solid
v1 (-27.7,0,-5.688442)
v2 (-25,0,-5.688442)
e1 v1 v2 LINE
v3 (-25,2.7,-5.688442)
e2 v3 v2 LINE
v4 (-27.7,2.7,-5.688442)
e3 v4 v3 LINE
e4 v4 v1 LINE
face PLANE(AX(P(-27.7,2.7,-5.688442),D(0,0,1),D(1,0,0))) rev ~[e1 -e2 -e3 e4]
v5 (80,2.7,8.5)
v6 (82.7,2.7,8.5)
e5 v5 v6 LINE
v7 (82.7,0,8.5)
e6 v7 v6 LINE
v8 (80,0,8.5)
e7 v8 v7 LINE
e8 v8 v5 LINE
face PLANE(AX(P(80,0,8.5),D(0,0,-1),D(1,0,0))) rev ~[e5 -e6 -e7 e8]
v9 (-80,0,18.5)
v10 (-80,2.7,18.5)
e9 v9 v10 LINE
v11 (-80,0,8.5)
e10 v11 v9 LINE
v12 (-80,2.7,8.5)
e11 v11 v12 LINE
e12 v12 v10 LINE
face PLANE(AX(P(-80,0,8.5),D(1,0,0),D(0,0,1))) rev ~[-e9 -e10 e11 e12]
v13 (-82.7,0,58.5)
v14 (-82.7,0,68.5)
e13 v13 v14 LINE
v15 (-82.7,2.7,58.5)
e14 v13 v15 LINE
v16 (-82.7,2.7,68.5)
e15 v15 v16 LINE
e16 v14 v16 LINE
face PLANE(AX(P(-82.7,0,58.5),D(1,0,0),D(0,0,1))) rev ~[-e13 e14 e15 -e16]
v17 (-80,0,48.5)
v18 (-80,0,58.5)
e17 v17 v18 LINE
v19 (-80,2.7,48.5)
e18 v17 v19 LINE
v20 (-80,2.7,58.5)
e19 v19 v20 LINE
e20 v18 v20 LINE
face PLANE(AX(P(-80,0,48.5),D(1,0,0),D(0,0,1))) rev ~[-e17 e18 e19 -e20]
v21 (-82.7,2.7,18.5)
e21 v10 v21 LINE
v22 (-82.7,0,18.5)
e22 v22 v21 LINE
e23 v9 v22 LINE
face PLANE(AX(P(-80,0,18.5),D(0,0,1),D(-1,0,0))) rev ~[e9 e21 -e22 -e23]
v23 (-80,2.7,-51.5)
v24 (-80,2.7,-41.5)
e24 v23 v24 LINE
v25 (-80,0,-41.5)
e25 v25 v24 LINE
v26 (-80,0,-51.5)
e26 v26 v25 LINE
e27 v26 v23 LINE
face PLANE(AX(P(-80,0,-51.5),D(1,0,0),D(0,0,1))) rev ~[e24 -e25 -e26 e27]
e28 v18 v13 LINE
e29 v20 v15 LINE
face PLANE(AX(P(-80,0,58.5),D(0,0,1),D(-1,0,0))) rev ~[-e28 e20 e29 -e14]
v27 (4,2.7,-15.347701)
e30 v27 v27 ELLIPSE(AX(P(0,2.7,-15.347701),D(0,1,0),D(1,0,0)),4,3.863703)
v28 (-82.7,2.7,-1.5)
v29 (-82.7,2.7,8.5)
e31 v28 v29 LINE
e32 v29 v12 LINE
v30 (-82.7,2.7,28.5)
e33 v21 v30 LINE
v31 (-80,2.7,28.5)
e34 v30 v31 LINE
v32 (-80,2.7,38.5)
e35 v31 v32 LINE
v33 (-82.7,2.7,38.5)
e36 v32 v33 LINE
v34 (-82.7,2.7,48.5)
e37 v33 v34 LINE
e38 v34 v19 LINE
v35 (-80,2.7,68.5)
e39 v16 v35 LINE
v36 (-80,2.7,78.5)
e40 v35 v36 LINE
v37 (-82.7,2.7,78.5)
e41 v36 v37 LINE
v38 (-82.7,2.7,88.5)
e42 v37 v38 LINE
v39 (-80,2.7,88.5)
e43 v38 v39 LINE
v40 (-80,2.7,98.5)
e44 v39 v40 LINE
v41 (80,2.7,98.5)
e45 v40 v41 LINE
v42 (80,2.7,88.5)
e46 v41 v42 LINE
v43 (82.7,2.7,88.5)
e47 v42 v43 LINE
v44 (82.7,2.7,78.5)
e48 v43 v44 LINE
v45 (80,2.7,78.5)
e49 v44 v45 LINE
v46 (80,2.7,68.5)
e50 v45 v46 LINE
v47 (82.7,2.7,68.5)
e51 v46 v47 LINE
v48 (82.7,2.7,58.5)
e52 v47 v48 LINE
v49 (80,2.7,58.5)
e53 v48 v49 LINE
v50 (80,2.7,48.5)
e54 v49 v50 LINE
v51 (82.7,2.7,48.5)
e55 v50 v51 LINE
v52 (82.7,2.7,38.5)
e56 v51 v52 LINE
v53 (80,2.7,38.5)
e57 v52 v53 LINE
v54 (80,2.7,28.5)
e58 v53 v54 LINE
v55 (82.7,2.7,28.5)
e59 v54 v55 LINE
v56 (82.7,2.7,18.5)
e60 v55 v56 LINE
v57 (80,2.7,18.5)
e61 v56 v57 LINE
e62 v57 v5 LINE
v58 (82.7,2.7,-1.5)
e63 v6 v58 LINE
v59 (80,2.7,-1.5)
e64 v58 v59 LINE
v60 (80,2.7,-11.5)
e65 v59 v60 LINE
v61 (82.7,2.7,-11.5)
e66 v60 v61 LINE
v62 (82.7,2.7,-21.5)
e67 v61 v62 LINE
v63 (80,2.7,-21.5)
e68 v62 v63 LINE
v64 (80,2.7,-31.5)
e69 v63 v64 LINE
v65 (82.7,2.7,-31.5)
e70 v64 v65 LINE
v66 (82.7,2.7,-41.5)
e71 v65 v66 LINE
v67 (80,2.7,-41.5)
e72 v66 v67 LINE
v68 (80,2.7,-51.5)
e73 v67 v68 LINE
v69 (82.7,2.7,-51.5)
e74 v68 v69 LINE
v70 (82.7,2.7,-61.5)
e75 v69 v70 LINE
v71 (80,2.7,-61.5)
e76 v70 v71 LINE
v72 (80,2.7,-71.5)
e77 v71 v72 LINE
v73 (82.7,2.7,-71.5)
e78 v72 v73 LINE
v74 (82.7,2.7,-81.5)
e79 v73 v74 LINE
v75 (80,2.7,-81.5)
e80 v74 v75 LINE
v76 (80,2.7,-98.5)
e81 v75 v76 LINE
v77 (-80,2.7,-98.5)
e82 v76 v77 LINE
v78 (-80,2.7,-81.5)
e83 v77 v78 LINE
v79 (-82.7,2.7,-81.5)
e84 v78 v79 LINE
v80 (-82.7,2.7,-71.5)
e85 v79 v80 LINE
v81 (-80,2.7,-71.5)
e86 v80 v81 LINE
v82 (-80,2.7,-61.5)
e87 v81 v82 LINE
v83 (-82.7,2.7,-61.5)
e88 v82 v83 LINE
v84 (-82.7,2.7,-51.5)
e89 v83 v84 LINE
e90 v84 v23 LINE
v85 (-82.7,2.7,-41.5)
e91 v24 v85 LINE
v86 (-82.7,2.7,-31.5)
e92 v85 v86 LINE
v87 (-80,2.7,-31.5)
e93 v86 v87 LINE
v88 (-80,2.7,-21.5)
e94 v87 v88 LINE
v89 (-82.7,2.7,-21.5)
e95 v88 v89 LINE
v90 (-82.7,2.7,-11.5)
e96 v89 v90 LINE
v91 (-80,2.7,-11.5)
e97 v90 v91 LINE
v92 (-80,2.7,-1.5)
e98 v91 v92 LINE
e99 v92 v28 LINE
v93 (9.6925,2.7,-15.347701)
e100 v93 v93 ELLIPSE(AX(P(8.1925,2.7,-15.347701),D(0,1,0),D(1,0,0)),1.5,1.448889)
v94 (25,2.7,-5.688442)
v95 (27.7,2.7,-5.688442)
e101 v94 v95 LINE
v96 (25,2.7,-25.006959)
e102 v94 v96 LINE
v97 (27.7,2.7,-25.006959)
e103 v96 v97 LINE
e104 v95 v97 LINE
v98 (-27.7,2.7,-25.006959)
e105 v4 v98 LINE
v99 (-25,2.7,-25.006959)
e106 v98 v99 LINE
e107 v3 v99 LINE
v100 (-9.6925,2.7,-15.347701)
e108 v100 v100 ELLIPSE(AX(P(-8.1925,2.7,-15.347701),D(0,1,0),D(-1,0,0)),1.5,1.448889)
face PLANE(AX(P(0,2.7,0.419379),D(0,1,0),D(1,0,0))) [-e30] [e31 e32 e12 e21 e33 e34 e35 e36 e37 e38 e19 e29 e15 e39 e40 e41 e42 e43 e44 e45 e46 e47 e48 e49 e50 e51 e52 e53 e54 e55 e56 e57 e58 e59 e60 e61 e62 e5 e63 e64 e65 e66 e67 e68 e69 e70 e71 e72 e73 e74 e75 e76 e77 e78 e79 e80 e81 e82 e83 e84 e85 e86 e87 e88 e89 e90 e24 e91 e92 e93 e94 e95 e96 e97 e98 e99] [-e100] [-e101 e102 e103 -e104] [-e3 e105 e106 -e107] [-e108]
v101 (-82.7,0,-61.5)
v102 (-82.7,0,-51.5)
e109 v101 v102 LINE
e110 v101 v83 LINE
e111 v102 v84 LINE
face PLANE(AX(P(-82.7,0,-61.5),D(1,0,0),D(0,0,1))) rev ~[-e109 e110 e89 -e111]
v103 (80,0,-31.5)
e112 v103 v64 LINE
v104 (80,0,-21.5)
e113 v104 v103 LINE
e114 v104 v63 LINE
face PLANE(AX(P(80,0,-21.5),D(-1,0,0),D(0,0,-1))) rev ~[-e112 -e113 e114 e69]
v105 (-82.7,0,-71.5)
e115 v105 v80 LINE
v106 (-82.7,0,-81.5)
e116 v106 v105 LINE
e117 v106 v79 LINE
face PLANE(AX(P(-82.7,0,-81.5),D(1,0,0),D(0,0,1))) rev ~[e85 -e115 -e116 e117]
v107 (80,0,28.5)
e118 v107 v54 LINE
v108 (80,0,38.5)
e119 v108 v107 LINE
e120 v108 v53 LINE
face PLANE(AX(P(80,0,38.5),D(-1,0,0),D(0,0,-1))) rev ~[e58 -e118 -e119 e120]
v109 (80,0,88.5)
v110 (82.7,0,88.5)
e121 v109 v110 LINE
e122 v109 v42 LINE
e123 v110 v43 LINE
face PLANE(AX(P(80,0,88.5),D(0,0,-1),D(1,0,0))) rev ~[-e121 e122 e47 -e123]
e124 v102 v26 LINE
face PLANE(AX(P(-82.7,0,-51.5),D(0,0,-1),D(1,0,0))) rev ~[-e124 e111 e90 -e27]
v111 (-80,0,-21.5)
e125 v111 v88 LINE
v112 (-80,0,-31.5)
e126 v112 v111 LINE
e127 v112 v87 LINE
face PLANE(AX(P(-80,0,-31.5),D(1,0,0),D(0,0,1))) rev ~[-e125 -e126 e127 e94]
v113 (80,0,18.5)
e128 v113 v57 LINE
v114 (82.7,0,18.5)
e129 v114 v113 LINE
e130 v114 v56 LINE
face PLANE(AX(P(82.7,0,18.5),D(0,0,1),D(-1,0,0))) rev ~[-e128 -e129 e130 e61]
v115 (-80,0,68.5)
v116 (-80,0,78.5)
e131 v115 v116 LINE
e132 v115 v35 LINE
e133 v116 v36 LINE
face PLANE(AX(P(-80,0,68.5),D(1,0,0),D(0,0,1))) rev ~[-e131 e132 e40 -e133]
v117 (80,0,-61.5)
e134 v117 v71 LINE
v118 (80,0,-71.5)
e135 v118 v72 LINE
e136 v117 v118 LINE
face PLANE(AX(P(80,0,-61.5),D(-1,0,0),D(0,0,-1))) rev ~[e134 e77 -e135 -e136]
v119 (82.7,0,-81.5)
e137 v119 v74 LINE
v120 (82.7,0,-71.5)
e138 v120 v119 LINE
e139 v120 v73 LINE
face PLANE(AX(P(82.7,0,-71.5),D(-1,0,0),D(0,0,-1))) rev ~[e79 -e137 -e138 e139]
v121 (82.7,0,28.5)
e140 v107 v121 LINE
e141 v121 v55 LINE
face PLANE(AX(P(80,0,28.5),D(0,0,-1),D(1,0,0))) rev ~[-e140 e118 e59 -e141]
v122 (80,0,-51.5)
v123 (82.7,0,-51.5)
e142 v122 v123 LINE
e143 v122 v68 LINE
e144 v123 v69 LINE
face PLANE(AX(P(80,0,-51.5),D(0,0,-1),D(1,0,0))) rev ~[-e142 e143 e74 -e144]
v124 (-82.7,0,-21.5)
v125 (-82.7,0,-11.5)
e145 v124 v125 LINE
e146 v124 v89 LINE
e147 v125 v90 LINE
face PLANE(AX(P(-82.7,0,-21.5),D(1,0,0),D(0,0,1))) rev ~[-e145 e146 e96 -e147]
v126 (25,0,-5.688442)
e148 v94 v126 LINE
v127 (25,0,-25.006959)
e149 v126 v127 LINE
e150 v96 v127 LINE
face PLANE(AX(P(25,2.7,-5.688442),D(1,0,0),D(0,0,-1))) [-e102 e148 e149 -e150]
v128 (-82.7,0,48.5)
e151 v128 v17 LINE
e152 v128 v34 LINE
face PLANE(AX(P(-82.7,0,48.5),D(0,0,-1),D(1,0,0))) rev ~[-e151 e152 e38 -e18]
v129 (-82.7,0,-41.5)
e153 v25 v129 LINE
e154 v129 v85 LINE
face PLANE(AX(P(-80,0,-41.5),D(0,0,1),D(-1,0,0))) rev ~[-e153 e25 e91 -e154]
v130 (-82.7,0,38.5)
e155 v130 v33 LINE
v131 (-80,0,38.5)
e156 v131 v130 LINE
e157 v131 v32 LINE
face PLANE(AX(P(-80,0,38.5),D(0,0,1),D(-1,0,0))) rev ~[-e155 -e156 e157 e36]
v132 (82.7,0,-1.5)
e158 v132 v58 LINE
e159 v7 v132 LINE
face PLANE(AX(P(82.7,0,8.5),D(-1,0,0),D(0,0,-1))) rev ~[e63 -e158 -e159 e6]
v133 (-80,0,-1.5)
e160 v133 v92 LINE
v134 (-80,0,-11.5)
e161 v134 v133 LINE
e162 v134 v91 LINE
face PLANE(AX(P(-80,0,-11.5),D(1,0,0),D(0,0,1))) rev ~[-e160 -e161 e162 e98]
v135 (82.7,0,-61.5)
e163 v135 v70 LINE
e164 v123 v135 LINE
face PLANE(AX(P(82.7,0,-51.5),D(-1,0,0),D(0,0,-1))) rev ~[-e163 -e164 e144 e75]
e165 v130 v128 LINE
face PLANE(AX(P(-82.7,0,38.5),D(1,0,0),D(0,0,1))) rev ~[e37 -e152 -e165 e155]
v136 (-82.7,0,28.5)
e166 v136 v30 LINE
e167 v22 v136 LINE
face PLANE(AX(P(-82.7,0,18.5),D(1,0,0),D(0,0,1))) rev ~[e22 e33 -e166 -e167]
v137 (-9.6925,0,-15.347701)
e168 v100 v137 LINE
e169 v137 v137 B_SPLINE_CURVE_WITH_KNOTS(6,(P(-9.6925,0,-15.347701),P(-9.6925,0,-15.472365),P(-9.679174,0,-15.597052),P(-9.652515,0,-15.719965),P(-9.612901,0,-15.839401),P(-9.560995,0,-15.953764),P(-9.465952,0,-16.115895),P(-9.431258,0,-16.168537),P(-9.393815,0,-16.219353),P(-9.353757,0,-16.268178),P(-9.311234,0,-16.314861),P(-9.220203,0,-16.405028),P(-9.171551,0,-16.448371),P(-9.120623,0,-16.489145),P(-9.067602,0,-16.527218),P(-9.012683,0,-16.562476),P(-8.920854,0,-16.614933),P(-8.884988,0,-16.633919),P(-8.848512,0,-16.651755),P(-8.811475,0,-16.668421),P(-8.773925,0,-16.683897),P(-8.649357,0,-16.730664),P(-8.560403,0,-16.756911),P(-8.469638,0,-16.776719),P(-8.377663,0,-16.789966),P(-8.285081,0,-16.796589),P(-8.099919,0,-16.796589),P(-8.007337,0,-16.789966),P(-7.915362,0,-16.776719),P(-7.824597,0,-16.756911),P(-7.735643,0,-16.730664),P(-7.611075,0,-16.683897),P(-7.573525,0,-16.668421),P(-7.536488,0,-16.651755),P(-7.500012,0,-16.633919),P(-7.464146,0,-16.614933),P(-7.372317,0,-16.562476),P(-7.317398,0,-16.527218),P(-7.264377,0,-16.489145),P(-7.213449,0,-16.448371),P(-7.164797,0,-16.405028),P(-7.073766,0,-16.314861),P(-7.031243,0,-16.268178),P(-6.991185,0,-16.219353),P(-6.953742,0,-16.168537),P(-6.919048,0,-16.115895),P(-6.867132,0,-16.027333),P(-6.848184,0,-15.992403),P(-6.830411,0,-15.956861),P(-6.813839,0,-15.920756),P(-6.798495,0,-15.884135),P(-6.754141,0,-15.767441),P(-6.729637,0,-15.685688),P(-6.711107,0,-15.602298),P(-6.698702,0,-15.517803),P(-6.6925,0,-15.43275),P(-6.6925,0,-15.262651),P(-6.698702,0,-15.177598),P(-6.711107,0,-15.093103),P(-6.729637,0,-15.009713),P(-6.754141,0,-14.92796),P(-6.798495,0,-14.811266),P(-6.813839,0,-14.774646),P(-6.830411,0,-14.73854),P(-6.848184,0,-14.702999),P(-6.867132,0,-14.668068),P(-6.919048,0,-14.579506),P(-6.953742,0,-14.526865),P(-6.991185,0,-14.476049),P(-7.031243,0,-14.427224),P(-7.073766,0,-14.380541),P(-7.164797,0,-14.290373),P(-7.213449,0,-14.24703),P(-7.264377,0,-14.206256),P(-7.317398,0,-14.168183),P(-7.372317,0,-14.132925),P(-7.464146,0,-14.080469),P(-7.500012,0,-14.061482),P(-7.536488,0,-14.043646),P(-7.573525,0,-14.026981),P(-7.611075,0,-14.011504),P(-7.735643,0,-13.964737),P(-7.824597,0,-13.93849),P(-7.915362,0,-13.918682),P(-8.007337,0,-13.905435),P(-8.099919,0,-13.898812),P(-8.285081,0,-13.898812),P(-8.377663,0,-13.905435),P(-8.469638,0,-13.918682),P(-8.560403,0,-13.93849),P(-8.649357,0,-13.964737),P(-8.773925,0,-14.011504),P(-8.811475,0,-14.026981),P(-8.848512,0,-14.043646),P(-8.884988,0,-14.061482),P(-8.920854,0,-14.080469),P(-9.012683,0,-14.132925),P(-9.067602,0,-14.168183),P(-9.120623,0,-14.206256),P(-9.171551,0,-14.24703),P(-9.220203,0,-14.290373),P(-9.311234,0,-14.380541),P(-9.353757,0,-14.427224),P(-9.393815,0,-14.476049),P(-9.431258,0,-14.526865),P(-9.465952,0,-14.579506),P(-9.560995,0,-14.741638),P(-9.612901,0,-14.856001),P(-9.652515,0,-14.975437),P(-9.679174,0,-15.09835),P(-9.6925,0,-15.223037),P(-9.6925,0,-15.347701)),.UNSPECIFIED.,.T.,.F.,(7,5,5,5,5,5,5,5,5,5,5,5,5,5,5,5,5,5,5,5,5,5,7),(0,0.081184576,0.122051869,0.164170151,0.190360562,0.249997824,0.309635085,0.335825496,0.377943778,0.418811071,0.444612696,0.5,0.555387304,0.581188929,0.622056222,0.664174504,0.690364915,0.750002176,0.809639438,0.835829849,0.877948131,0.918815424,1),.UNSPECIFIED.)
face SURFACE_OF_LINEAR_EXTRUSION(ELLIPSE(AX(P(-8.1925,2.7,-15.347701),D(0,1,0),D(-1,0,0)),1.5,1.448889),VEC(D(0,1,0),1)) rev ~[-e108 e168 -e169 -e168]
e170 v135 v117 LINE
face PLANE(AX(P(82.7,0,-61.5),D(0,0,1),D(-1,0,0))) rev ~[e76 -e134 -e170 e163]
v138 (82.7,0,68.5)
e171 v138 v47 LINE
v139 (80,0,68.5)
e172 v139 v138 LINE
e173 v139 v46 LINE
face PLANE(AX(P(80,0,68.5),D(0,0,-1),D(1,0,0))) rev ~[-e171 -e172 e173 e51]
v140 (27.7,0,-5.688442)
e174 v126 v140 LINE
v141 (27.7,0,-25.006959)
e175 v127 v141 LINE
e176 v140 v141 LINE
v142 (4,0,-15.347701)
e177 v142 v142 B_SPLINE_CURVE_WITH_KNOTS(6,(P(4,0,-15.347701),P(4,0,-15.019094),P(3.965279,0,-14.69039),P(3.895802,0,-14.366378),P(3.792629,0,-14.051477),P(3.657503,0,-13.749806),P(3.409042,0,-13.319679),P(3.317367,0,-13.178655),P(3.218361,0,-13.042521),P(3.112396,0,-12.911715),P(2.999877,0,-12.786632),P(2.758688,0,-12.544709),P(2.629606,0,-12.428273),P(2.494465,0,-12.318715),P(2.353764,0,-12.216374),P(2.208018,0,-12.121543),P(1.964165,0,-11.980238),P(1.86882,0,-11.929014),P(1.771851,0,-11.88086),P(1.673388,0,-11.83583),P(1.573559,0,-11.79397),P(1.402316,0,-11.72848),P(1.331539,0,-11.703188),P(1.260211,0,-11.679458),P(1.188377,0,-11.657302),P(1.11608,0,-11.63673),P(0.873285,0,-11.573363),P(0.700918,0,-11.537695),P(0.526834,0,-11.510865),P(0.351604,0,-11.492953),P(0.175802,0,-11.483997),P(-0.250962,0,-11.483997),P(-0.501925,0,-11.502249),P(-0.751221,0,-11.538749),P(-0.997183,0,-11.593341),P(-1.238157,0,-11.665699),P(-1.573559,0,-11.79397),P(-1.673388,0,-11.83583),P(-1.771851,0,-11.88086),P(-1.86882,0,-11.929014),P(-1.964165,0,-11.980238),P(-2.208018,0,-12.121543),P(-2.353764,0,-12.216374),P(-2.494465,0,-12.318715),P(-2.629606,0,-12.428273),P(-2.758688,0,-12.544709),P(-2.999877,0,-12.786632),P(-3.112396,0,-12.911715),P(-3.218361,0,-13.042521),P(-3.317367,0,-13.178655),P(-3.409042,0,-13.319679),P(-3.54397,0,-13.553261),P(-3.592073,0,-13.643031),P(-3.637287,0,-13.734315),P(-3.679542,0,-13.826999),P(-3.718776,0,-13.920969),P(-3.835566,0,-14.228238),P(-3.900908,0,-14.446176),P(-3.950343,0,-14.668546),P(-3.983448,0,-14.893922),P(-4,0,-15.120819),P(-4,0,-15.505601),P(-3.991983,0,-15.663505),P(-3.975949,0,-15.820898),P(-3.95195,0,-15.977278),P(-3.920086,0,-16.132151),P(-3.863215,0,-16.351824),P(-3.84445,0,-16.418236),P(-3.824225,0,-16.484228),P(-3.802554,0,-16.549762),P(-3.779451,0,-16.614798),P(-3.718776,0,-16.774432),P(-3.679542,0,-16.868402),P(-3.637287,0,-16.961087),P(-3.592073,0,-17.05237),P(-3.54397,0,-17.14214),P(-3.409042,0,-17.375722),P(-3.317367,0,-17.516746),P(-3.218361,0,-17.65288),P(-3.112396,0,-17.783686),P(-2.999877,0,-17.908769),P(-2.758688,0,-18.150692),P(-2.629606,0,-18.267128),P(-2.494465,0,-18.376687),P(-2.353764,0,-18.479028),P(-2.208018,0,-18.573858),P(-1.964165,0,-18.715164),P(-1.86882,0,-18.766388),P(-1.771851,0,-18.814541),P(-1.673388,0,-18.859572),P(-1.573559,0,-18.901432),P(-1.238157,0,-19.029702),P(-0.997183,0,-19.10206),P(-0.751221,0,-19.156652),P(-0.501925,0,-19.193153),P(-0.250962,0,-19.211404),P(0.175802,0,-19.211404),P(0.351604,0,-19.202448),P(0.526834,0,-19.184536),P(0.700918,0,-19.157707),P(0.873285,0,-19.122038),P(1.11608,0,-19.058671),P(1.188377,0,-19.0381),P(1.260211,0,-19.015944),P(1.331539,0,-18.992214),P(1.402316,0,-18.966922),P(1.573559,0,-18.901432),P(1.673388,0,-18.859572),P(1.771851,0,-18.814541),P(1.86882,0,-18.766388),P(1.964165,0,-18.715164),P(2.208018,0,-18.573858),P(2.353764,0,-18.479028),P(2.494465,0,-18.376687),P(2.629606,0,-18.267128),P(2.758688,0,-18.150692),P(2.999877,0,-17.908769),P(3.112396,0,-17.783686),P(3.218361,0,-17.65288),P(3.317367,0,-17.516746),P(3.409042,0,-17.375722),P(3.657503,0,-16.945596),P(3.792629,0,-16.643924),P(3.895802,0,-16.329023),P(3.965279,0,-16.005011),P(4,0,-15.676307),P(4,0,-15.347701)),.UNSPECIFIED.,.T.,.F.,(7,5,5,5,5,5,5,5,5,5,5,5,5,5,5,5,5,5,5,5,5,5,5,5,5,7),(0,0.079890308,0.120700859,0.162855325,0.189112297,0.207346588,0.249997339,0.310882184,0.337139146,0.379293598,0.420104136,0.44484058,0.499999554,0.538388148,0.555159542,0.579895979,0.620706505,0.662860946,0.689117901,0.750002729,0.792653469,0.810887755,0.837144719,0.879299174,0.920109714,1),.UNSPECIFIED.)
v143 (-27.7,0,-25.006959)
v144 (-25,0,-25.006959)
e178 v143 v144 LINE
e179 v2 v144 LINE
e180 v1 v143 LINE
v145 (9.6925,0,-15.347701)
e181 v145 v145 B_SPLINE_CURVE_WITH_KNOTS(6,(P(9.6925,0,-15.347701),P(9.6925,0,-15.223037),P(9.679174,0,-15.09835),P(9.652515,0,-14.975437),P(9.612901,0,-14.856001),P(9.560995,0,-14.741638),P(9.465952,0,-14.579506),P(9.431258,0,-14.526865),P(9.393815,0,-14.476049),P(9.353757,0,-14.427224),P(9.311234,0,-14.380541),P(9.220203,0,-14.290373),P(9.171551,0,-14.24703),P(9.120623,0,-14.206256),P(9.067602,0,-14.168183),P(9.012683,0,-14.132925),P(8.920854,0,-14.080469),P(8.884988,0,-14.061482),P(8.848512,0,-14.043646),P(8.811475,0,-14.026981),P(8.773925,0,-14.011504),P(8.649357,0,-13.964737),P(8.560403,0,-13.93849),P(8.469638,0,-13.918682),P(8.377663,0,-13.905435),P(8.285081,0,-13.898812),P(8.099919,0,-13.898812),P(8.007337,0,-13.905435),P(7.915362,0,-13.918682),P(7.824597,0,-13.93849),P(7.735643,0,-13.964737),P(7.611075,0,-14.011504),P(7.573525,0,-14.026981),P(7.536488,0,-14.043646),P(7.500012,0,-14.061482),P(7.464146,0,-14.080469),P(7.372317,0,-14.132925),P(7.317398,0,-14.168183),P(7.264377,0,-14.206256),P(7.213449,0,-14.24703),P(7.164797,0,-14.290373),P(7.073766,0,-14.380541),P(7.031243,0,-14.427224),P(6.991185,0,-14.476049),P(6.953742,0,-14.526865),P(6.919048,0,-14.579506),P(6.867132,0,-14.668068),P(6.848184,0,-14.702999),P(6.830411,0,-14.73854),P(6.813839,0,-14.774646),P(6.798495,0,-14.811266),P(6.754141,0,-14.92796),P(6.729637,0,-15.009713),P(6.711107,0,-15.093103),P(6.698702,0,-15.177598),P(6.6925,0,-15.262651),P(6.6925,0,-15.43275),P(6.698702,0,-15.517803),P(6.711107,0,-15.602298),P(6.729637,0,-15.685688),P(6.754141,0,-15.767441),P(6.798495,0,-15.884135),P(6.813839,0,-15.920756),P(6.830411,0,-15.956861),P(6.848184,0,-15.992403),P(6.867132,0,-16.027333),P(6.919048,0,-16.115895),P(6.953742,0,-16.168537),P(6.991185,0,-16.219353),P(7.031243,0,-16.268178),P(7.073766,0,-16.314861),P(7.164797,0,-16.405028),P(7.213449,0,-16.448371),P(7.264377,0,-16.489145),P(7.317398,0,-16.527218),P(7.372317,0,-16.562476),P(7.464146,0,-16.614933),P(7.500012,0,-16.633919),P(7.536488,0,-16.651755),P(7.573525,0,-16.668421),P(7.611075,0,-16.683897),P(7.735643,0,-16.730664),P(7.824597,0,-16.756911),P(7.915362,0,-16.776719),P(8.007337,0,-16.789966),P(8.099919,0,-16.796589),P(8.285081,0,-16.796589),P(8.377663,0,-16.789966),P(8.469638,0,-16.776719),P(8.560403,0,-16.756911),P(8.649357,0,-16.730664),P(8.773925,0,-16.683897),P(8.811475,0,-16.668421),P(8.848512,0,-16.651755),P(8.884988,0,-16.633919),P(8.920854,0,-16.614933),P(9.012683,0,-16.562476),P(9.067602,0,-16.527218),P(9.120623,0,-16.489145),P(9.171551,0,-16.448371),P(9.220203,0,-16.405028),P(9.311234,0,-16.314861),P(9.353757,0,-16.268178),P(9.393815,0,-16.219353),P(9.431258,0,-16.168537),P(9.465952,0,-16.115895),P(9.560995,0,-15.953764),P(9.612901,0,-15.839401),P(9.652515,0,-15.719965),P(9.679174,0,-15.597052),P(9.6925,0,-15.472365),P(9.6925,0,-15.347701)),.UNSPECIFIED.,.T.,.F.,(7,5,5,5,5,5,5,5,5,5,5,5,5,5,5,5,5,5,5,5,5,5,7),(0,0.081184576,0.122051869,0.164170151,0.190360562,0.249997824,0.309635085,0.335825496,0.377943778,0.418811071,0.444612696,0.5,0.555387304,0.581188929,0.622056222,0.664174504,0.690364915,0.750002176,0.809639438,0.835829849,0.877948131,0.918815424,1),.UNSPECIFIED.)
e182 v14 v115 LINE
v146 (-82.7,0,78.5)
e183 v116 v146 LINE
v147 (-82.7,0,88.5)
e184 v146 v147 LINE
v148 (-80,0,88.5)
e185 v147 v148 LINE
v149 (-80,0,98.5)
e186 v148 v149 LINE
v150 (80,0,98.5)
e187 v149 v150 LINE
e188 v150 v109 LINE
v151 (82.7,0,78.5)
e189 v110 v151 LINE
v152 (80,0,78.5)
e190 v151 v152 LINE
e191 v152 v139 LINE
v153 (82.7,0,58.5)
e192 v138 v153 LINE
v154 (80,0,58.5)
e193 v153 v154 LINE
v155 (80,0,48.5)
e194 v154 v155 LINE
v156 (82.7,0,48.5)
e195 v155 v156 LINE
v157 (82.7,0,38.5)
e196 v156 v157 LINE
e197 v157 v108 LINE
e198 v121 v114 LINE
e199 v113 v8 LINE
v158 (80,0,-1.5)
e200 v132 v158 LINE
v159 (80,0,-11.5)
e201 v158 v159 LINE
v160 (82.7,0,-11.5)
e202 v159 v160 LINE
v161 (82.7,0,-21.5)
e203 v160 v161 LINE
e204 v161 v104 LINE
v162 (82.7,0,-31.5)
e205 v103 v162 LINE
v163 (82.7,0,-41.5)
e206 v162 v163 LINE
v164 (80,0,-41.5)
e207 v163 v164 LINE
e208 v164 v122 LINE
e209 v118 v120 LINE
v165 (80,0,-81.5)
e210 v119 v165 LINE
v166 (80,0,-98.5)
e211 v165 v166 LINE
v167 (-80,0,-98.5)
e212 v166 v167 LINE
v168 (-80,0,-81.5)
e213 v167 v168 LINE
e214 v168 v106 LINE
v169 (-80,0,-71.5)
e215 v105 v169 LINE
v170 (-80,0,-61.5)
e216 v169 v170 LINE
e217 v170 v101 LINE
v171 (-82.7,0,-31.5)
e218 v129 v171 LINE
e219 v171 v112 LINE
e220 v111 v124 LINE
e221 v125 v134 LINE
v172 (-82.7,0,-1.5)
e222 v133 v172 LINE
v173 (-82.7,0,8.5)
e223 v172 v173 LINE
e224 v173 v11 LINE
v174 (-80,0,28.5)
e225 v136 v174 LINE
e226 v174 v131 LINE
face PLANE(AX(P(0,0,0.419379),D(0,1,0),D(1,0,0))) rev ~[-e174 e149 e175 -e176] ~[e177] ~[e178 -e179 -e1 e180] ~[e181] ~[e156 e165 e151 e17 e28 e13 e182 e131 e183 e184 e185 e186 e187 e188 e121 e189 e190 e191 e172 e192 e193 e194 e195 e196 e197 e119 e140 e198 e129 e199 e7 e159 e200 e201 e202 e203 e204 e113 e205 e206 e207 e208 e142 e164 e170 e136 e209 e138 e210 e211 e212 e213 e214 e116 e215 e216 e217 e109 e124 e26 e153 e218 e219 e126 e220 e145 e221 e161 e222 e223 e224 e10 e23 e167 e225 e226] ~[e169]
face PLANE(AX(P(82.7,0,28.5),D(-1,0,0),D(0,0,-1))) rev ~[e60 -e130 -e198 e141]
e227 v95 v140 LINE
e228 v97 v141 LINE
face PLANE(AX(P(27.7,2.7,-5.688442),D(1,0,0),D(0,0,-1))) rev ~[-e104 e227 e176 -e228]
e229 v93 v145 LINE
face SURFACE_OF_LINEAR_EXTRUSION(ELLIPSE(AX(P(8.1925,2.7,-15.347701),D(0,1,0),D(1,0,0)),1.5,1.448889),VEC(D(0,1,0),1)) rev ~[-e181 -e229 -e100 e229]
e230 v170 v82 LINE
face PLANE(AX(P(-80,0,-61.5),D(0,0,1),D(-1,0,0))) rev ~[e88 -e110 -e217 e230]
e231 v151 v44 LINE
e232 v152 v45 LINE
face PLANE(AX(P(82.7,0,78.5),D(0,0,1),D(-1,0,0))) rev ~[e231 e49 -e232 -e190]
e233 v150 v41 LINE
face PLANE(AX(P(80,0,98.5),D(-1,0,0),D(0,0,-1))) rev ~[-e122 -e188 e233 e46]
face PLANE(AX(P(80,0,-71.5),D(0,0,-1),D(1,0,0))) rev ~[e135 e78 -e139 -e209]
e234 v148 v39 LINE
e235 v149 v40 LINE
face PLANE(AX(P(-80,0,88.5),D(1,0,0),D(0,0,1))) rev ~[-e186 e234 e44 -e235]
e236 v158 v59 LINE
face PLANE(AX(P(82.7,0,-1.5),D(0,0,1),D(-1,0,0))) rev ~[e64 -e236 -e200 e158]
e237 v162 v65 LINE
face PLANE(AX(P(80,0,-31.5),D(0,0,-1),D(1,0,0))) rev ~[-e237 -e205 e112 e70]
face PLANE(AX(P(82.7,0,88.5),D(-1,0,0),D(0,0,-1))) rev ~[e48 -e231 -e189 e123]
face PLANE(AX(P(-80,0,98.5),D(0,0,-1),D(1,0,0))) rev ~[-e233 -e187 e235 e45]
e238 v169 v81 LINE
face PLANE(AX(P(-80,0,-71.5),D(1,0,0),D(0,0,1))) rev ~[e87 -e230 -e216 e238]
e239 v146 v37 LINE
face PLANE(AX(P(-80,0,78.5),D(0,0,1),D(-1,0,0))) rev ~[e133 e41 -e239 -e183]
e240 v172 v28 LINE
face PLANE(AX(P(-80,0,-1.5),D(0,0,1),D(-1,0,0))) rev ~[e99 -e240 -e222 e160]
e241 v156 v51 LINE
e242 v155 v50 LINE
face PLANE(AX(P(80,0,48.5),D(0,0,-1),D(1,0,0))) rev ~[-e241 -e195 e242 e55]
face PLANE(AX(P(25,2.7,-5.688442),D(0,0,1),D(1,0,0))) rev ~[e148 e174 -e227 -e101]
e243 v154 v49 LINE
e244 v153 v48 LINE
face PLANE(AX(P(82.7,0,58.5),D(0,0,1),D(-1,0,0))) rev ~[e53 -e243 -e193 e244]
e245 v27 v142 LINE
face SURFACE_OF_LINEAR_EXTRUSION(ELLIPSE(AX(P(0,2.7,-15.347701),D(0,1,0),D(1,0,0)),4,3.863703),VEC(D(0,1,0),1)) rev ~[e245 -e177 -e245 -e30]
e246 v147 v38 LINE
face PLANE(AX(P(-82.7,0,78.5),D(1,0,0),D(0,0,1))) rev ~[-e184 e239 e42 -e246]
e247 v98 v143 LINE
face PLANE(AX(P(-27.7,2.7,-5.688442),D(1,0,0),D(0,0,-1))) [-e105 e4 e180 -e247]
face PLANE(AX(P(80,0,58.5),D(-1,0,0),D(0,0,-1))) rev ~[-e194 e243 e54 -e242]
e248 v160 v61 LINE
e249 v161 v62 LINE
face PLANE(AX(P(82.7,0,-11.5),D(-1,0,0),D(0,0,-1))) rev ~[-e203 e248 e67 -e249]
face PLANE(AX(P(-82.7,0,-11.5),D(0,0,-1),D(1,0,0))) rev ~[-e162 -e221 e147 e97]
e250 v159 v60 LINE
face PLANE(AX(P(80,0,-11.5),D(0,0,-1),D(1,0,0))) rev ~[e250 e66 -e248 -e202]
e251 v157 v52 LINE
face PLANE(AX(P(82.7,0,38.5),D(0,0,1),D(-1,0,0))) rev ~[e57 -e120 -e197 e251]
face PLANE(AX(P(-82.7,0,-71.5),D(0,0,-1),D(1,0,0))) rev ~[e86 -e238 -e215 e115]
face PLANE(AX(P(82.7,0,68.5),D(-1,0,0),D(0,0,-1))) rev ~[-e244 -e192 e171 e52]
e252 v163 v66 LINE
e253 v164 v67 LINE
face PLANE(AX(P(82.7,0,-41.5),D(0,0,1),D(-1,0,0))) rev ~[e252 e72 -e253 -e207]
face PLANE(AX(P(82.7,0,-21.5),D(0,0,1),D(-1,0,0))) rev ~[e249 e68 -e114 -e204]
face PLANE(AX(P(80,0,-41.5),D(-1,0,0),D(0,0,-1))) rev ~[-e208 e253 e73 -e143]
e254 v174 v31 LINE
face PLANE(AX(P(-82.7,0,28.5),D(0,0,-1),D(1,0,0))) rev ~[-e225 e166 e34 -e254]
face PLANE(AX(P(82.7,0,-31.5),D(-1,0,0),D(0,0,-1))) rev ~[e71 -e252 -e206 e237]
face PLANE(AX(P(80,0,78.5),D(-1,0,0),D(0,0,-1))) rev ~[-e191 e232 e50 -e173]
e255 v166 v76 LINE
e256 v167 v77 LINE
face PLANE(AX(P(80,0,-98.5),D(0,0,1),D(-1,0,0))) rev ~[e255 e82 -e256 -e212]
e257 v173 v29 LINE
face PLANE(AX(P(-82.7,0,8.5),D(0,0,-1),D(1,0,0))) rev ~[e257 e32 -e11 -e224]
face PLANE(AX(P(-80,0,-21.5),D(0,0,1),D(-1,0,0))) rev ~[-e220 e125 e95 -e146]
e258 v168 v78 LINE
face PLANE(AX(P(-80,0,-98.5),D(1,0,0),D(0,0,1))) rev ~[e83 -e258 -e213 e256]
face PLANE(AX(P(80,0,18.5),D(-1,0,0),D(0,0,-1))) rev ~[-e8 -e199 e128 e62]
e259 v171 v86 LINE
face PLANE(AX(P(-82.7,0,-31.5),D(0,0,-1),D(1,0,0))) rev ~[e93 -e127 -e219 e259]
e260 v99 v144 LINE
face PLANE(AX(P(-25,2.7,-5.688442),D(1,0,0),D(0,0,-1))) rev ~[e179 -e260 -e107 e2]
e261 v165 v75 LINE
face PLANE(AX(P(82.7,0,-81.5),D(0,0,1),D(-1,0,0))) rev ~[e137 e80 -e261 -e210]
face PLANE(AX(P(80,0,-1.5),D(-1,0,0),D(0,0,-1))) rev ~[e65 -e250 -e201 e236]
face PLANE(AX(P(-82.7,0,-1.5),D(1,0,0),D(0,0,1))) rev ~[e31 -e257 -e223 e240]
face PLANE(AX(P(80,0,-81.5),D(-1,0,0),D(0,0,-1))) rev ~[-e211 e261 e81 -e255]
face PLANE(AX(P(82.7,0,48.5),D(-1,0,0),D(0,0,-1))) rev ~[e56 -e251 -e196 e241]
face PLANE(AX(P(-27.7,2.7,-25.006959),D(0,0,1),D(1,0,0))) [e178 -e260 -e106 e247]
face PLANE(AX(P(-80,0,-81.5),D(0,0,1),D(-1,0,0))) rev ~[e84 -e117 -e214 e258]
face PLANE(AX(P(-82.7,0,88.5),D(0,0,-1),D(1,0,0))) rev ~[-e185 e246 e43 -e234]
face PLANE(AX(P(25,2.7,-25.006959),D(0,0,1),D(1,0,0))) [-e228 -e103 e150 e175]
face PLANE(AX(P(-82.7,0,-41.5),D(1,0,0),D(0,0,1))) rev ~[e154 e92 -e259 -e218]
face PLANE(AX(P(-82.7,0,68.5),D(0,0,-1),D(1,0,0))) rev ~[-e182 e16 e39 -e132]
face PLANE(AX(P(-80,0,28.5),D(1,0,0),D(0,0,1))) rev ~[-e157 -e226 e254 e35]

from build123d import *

# Parameters (mm, degrees)
BOSS_EXTRUDE2_DEPTH = 2.7
SKETCH2_RX          = 1.5
SKETCH2_RY          = 1.448888739
SKETCH2_RX_2        = 4
SKETCH2_RY_2        = 3.863703305
SKETCH2_W           = 2.7
SKETCH2_H           = 19.318516525
CUT_EXTRUDE1_DEPTH  = 3


with BuildPart() as part:
    # Sketch1 → Boss-Extrude2 (new body)
    with BuildSketch(Plane(origin=(0, 0, 0), x_dir=(1, 0, 0), z_dir=(0, 1, 0))):
        Polygon((-80, -98.5), (80, -98.5), (80, -88.5), (82.7, -88.5), (82.7, -78.5), (80, -78.5), (80, -68.5), (82.7, -68.5), (82.7, -58.5), (80, -58.5), (80, -48.5), (82.7, -48.5), (82.7, -38.5), (80, -38.5), (80, -28.5), (82.7, -28.5), (82.7, -18.5), (80, -18.5), (80, -8.5), (82.7, -8.5), (82.7, 1.5), (80, 1.5), (80, 11.5), (82.7, 11.5), (82.7, 21.5), (80, 21.5), (80, 31.5), (82.7, 31.5), (82.7, 41.5), (80, 41.5), (80, 51.5), (82.7, 51.5), (82.7, 61.5), (80, 61.5), (80, 71.5), (82.7, 71.5), (82.7, 81.5), (80, 81.5), (80, 98.5), (-80, 98.5), (-80, 81.5), (-82.7, 81.5), (-82.7, 71.5), (-80, 71.5), (-80, 61.5), (-82.7, 61.5), (-82.7, 51.5), (-80, 51.5), (-80, 41.5), (-82.7, 41.5), (-82.7, 31.5), (-80, 31.5), (-80, 21.5), (-82.7, 21.5), (-82.7, 11.5), (-80, 11.5), (-80, 1.5), (-82.7, 1.5), (-82.7, -8.5), (-80, -8.5), (-80, -18.5), (-82.7, -18.5), (-82.7, -28.5), (-80, -28.5), (-80, -38.5), (-82.7, -38.5), (-82.7, -48.5), (-80, -48.5), (-80, -58.5), (-82.7, -58.5), (-82.7, -68.5), (-80, -68.5), (-80, -78.5), (-82.7, -78.5), (-82.7, -88.5), (-80, -88.5), align=None)
    extrude(amount=BOSS_EXTRUDE2_DEPTH)

    # Sketch2 → Cut-Extrude1 (cut)
    with BuildSketch(Plane(origin=(0, 2.7, 0), x_dir=(1, 0, 0), z_dir=(0, 1, 0))):
        with Locations((8.1925, 15.347700679)):
            Ellipse(SKETCH2_RX, SKETCH2_RY)
        with Locations((0, 15.347700679)):
            Ellipse(SKETCH2_RX_2, SKETCH2_RY_2)
        with Locations(Location((-8.1925, 15.347700679), (0, 0, 180))):
            Ellipse(SKETCH2_RX, SKETCH2_RY)
        with Locations((26.35, 15.347700679)):
            Rectangle(SKETCH2_W, SKETCH2_H)
        with Locations((-26.35, 15.347700679)):
            Rectangle(SKETCH2_W, SKETCH2_H)
    extrude(amount=-CUT_EXTRUDE1_DEPTH, mode=Mode.SUBTRACT)


solid = part.part
